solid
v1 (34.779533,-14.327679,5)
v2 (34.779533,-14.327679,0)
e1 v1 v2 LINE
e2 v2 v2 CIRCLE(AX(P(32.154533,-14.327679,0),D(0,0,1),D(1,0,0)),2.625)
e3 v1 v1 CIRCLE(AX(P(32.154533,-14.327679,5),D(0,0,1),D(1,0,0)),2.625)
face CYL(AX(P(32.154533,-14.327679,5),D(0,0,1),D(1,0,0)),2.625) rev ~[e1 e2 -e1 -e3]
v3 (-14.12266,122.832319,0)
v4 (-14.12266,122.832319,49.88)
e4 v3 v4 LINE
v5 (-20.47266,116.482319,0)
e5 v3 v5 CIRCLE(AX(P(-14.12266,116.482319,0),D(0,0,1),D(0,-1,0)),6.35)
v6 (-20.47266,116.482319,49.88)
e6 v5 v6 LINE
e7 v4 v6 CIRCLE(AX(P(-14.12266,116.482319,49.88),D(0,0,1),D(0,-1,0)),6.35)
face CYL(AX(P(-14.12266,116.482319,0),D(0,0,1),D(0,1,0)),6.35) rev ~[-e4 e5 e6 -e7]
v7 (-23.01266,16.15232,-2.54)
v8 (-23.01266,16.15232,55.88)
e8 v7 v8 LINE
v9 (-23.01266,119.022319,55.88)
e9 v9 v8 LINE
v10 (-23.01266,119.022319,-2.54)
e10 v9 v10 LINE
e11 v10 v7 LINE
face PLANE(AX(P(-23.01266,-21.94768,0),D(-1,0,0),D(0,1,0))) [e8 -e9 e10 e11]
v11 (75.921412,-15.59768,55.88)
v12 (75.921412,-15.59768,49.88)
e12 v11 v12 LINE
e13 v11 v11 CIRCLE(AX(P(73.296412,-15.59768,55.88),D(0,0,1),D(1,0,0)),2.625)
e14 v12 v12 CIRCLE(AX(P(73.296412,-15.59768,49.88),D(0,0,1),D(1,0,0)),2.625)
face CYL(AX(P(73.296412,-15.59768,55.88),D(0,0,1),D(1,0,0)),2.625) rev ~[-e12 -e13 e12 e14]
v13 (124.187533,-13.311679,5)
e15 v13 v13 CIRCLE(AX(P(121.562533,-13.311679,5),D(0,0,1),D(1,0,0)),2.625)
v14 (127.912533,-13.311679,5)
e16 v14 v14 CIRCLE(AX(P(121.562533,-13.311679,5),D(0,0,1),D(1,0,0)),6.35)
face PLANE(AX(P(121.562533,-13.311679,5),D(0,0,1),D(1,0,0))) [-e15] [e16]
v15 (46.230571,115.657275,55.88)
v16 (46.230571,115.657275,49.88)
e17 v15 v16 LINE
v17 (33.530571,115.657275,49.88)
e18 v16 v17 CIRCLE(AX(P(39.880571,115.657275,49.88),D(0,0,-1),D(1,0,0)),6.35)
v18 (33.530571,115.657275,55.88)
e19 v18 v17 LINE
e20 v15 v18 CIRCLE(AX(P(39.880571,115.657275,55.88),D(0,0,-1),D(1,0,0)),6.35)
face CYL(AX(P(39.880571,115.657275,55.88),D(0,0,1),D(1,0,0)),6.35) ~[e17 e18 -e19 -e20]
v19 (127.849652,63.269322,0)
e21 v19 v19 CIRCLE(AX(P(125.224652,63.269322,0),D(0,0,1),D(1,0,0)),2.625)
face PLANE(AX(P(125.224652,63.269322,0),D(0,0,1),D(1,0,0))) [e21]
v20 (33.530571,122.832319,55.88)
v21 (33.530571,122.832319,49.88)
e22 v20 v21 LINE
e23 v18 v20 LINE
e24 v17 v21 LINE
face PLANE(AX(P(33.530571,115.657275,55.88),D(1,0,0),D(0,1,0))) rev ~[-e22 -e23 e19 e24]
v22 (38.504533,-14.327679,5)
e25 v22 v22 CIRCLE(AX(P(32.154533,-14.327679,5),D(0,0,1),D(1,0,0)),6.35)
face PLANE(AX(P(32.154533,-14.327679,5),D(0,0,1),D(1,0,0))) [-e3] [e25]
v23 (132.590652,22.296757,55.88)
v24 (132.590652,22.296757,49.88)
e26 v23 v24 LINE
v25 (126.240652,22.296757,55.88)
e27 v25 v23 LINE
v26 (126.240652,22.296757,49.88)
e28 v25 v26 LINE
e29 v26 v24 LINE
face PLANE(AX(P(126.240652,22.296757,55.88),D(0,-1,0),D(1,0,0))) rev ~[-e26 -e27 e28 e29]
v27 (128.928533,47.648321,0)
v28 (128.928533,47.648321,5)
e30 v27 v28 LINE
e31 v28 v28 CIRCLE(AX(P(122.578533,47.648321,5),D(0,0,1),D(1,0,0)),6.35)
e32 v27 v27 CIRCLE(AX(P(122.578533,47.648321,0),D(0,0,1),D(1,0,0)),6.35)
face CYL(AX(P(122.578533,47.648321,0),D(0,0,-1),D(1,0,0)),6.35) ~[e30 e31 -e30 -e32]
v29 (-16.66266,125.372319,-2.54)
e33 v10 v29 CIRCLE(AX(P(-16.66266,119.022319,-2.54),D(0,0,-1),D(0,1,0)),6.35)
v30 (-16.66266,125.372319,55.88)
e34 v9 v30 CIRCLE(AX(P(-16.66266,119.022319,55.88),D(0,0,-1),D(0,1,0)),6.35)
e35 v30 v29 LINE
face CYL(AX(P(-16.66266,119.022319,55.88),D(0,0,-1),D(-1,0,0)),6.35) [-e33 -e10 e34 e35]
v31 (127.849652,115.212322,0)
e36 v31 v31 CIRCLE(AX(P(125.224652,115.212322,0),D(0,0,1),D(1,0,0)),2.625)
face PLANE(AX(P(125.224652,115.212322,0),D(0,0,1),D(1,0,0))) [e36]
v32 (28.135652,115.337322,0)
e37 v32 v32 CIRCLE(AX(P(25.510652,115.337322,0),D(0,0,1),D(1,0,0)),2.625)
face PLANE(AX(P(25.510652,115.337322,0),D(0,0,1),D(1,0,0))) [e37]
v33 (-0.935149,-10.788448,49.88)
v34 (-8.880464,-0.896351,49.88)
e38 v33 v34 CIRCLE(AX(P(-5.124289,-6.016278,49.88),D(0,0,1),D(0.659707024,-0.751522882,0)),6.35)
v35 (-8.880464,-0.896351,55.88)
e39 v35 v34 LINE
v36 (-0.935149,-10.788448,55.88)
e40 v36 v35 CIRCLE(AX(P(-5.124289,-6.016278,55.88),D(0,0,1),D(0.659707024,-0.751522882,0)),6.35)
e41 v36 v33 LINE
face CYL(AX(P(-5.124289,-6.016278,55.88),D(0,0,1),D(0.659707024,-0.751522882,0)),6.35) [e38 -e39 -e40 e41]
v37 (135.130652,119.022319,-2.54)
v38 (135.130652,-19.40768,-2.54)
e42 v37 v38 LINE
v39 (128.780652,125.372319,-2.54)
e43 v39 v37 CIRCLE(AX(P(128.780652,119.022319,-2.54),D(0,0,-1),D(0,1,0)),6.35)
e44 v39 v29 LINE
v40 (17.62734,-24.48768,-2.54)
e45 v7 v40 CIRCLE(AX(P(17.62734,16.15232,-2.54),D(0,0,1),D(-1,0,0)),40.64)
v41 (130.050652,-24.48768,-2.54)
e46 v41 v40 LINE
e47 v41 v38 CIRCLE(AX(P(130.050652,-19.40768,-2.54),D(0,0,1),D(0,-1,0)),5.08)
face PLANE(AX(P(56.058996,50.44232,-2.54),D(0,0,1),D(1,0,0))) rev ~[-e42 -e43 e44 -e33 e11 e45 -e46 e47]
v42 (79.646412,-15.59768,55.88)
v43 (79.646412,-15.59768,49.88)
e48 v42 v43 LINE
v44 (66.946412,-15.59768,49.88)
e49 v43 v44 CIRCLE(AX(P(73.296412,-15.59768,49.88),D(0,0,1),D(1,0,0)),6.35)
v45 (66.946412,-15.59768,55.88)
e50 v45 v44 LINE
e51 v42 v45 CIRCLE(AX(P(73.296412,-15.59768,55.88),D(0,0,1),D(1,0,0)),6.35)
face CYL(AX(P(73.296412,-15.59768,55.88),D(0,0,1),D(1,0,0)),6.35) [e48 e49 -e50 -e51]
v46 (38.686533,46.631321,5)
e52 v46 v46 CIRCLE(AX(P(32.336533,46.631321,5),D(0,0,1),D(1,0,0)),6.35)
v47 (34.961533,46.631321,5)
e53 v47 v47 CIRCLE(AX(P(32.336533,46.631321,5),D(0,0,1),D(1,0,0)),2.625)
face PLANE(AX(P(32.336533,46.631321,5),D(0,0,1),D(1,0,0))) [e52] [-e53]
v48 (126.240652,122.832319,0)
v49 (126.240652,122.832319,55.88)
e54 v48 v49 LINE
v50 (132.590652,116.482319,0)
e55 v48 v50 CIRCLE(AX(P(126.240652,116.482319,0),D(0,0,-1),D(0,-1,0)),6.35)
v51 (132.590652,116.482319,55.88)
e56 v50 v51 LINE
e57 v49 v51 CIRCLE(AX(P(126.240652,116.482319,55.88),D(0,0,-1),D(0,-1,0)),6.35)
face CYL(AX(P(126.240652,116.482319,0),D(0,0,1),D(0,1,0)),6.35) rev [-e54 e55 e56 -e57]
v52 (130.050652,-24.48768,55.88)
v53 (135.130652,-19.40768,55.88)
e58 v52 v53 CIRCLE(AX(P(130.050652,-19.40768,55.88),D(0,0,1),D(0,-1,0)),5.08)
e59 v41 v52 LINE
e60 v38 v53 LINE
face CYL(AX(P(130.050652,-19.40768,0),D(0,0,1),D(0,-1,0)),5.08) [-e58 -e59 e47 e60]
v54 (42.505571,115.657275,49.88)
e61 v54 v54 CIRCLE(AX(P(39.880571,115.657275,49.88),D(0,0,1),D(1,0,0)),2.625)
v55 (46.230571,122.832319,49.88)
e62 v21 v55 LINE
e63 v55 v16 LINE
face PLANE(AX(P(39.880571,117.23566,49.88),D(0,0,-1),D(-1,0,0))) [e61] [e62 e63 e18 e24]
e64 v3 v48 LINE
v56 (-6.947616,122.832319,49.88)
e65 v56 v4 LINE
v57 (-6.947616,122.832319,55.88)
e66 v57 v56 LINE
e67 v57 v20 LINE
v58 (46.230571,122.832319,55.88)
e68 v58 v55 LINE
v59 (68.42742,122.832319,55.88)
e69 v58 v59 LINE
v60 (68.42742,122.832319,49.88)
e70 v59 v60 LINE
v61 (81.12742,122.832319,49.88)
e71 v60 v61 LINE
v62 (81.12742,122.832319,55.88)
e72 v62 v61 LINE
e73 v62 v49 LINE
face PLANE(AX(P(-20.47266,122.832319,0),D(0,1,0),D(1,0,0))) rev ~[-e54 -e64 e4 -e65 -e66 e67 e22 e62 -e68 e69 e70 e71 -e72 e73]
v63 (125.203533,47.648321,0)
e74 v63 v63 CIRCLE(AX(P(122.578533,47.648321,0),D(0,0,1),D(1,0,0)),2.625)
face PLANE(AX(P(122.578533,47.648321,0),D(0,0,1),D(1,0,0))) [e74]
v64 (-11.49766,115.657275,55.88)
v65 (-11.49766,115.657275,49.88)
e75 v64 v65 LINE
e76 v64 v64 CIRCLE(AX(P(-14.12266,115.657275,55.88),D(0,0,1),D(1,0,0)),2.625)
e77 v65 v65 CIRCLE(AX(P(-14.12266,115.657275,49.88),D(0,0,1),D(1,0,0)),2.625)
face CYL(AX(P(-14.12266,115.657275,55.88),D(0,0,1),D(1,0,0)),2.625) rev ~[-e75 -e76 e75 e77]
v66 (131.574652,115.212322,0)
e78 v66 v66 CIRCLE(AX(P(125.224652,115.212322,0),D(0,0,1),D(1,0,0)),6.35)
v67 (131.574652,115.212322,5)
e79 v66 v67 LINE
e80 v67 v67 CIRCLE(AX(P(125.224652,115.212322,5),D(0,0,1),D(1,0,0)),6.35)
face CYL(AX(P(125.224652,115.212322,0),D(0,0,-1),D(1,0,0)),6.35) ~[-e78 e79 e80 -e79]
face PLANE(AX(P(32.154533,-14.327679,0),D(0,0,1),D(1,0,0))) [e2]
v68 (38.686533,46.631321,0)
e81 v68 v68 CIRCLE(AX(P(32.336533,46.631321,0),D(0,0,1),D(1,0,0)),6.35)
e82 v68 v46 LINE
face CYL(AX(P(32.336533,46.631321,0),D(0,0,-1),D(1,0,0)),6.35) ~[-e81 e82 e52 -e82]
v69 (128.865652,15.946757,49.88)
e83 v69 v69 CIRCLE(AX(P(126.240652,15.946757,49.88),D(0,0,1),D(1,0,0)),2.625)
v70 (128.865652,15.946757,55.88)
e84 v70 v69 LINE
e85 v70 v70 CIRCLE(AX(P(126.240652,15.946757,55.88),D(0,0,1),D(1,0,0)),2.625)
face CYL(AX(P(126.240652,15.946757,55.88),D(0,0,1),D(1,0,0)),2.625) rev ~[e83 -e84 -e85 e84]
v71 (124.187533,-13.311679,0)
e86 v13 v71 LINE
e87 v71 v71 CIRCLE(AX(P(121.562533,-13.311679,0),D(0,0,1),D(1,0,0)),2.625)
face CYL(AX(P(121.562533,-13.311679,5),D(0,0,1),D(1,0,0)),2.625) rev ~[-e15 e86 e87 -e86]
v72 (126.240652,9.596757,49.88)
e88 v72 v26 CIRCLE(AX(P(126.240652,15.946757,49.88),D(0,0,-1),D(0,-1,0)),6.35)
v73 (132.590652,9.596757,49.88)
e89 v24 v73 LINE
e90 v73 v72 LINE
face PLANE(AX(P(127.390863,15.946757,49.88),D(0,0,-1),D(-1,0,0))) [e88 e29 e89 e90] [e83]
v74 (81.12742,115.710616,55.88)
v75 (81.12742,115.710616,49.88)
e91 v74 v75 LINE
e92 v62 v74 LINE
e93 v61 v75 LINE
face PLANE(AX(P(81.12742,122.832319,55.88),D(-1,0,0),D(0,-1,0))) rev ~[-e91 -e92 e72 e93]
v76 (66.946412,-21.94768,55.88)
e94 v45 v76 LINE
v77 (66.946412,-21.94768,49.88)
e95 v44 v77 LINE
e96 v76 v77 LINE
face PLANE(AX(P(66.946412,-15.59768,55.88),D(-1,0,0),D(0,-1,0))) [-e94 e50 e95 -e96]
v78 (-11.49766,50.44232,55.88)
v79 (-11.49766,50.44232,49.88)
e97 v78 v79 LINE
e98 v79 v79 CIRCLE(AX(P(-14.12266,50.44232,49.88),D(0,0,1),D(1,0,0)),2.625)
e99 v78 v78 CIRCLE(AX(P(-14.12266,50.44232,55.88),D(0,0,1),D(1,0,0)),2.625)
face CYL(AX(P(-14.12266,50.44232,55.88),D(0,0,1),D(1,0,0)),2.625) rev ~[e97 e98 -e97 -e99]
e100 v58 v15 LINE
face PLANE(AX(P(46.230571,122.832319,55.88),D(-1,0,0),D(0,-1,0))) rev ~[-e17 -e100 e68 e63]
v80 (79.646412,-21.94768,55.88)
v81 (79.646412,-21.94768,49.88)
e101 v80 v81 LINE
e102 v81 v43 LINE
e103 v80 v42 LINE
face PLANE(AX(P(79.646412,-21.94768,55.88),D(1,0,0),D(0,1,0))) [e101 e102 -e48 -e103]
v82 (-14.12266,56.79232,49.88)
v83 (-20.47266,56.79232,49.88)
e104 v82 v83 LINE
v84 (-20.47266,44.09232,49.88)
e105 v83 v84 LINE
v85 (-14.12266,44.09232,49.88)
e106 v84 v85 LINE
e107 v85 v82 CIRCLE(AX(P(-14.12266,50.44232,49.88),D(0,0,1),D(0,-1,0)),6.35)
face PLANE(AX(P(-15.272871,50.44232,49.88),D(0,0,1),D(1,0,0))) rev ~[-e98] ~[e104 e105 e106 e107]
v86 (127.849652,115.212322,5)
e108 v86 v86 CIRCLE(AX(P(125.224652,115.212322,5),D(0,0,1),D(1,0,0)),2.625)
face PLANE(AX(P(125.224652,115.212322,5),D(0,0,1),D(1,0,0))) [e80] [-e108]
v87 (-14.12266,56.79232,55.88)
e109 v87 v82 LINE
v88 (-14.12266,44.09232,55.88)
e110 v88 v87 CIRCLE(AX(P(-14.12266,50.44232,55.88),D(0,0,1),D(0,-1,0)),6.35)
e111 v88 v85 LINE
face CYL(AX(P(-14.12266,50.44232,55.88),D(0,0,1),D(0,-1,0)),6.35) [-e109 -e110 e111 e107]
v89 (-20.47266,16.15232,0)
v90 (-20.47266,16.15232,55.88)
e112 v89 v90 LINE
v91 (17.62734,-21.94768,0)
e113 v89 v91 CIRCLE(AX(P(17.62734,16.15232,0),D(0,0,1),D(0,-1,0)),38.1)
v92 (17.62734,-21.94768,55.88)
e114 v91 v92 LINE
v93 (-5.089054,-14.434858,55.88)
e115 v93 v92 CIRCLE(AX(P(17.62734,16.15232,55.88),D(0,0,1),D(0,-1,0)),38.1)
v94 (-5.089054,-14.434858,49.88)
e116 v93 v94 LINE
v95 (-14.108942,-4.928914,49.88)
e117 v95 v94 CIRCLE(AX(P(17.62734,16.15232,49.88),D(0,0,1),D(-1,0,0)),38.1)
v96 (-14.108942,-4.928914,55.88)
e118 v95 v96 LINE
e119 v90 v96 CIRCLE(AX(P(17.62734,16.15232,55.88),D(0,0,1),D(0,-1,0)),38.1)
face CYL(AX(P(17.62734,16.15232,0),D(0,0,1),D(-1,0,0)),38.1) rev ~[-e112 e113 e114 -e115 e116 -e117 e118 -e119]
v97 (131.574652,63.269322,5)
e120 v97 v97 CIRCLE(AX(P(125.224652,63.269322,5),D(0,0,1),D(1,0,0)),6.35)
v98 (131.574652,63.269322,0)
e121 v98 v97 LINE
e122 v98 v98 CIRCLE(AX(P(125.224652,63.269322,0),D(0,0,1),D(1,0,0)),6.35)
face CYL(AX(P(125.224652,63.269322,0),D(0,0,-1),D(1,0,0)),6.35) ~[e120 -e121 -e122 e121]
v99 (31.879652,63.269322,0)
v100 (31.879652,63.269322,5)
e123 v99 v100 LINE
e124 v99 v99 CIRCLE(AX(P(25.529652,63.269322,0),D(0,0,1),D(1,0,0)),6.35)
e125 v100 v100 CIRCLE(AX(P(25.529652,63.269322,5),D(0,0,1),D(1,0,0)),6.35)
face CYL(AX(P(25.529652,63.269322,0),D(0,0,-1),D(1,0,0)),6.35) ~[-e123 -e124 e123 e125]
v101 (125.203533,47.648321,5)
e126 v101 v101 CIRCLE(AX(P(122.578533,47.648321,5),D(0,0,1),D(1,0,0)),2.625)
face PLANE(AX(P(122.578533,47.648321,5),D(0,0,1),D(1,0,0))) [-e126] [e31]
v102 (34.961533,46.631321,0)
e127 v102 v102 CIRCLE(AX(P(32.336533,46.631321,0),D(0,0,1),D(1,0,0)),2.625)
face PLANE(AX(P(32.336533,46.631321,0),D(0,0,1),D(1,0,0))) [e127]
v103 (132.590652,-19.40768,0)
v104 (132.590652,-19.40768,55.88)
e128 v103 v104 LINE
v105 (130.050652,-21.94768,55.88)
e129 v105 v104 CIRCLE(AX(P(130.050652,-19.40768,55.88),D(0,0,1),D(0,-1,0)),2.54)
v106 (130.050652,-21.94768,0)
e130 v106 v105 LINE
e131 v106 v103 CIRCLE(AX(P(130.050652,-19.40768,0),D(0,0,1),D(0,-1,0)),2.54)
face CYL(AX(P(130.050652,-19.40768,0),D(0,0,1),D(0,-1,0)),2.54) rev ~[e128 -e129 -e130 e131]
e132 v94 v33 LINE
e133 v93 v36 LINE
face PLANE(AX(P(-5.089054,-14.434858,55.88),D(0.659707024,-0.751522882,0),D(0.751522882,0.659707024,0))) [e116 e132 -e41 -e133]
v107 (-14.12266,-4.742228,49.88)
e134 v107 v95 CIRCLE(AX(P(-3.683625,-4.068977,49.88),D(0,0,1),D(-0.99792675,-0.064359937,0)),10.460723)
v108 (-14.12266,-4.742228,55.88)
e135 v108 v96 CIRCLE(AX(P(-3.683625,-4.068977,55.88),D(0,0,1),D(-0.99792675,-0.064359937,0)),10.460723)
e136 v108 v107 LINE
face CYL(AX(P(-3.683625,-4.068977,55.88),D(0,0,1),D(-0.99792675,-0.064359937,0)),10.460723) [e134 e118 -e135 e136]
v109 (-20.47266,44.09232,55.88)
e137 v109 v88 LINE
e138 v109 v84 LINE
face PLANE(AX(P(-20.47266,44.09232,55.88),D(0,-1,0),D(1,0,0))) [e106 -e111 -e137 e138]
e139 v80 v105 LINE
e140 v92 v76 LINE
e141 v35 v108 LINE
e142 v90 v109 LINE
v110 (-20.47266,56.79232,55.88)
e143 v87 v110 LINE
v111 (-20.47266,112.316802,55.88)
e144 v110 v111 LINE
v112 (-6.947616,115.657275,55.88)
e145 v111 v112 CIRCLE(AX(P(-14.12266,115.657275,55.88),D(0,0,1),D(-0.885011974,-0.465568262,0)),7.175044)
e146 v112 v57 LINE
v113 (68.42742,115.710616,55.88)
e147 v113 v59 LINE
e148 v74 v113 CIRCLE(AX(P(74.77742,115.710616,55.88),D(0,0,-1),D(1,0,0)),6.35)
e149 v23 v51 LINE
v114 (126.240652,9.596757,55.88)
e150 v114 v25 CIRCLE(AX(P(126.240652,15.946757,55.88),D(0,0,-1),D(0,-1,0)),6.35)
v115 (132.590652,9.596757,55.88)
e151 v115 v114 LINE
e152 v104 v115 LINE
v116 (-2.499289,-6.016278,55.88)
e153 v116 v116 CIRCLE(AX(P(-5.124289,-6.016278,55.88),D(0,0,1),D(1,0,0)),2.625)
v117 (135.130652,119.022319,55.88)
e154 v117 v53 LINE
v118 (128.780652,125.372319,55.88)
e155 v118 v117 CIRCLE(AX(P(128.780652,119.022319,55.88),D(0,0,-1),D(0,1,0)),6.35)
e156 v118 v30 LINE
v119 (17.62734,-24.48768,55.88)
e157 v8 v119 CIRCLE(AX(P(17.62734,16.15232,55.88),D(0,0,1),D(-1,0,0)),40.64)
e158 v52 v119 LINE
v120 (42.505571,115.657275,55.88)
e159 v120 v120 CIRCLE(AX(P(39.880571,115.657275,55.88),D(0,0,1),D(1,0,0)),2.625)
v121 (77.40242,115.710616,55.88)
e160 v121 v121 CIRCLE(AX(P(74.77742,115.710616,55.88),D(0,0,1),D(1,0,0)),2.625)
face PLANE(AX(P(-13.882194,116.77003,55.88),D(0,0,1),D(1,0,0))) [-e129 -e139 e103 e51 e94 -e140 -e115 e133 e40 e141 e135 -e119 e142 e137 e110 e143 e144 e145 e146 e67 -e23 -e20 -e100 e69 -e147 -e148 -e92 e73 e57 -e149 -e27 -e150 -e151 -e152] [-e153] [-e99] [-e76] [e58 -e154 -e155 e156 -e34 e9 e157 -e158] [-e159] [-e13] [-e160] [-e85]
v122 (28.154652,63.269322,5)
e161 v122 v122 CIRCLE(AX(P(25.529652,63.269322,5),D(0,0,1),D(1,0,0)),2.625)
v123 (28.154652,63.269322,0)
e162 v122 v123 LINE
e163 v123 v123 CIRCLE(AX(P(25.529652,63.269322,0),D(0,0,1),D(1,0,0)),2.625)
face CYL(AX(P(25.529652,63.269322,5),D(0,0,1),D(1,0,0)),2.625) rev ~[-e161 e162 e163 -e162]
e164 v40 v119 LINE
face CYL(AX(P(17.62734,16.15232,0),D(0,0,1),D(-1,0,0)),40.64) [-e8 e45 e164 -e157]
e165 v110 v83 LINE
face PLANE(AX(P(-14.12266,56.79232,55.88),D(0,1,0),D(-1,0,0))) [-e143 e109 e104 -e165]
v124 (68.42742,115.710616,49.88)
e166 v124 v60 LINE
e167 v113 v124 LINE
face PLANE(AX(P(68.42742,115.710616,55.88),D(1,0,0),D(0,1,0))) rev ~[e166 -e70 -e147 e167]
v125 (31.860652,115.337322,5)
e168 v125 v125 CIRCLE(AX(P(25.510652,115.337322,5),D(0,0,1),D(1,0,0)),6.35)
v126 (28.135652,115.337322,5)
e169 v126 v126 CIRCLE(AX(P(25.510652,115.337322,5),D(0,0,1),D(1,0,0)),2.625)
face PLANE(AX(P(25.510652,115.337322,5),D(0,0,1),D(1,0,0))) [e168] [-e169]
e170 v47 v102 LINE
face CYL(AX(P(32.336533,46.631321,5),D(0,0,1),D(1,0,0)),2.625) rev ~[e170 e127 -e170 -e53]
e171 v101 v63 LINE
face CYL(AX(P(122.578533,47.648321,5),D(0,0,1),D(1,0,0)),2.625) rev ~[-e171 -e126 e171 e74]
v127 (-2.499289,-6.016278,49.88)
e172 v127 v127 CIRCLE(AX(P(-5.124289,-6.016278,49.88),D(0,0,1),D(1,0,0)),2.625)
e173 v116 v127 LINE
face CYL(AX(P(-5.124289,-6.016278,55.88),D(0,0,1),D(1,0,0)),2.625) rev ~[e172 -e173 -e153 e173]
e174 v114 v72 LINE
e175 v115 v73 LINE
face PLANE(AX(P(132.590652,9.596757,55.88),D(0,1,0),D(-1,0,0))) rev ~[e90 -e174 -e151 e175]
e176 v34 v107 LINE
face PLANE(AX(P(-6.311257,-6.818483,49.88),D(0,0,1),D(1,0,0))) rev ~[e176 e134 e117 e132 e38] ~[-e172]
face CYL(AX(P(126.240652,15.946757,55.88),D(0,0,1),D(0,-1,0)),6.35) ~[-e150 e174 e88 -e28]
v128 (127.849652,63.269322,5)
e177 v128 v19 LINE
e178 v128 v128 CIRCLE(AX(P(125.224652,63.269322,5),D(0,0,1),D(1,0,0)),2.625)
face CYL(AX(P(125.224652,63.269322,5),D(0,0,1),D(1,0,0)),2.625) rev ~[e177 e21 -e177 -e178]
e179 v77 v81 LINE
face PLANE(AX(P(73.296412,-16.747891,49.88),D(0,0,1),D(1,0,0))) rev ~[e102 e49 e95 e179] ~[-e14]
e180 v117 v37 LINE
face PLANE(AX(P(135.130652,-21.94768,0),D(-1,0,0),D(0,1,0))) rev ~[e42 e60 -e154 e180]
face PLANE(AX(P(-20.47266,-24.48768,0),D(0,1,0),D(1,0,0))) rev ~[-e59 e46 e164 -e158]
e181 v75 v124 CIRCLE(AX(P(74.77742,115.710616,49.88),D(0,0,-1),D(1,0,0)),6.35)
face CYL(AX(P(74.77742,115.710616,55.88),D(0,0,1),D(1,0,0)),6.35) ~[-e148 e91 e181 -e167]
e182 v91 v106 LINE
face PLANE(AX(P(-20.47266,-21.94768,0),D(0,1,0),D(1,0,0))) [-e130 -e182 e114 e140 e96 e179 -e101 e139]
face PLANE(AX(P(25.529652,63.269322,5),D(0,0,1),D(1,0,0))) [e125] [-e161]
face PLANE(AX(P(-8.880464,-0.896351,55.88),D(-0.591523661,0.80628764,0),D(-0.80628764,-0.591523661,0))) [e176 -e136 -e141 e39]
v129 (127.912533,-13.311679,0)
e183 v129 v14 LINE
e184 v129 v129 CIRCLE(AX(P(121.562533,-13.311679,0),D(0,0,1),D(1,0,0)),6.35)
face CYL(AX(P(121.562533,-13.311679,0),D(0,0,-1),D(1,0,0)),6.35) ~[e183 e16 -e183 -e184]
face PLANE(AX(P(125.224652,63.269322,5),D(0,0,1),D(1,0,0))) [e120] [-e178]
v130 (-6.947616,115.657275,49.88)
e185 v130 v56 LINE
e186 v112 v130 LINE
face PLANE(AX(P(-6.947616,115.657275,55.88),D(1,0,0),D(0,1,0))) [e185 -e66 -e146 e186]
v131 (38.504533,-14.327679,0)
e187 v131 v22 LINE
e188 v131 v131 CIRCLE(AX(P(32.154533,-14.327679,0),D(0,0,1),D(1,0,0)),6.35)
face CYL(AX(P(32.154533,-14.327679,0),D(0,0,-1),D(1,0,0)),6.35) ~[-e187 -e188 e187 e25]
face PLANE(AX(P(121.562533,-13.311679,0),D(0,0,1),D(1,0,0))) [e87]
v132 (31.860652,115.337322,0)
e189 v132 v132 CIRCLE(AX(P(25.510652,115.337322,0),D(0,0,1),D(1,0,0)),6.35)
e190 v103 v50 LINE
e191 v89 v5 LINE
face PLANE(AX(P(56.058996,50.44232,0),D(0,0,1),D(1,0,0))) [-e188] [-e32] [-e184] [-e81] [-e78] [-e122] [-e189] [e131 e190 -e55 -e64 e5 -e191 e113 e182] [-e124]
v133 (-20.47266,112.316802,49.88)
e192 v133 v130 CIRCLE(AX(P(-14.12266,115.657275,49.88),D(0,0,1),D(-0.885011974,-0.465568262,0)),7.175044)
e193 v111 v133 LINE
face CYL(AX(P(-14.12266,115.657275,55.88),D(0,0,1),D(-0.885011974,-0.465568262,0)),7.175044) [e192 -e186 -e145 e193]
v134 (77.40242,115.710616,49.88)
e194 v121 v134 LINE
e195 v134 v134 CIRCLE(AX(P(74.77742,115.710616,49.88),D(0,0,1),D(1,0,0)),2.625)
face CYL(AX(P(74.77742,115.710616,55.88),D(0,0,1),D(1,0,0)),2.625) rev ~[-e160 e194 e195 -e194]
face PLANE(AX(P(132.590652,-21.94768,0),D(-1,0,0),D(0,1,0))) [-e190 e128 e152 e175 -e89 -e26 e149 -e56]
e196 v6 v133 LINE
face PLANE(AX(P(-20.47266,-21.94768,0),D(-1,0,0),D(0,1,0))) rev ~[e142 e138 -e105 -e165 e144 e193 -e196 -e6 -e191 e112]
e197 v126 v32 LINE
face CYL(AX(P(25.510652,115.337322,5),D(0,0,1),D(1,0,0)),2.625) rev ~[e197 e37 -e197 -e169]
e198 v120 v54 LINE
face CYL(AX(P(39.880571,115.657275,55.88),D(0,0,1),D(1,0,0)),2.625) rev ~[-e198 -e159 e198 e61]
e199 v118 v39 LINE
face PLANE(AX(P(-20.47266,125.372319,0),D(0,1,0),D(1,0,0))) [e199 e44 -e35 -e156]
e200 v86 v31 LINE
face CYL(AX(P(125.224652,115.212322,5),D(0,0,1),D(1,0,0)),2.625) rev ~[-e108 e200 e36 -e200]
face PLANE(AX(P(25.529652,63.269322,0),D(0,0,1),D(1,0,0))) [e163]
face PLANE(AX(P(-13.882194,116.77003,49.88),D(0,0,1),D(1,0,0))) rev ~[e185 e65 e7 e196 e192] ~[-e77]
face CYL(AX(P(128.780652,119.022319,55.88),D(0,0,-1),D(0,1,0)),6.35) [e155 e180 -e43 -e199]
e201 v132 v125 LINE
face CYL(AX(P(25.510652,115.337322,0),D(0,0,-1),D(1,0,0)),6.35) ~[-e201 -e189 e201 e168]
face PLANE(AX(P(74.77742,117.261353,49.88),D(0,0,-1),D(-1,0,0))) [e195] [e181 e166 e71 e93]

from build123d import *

# Parameters (mm, degrees)
SKETCH5_W           = 153.063311942
SKETCH5_H           = 144.779998932
BOSS_EXTRUDE4_DEPTH = 55.88
FILLET1_R           = 38.1
FILLET2_R           = 2.54
SHELL3_T            = 2.54
SKETCH7_R           = 6.35
BOSS_EXTRUDE5_DEPTH = 5
SKETCH8_R           = 2.625
CUT_EXTRUDE1_DEPTH  = 5
BOSS_EXTRUDE6_DEPTH = 6
FILLET3_R           = 6.35
SKETCH10_R          = 2.625
CUT_EXTRUDE2_DEPTH  = 55.88


with BuildPart() as part:
    # Sketch5 → Boss-Extrude4 (new body)
    with BuildSketch(Plane.XY):
        with Locations((56.058995854, 50.442319529)):
            Rectangle(SKETCH5_W, SKETCH5_H)
    extrude(amount=BOSS_EXTRUDE4_DEPTH)

    # Fillet1
    fillet1_edges = [part.edges().sort_by_distance(p)[0] for p in [
        (-20.472660117, -21.947679937, 27.94),
    ]]
    fillet(fillet1_edges, radius=FILLET1_R)

    # Fillet2
    fillet2_edges = [part.edges().sort_by_distance(p)[0] for p in [
        (132.590651825, -21.947679937, 27.94),
    ]]
    fillet(fillet2_edges, radius=FILLET2_R)

    # Shell3
    shell3_openings = [part.faces().sort_by_distance(p)[0] for p in [
        (57.024076911, 51.357711543, 55.88),
    ]]
    offset(amount=SHELL3_T, openings=shell3_openings, kind=Kind.INTERSECTION)

    # Sketch7 → Boss-Extrude5 (add)
    with BuildSketch(Plane.XY):
        with Locations((122.578533424, 47.648321467)):
            Circle(SKETCH7_R)
        with Locations((121.562533424, -13.311678533)):
            Circle(SKETCH7_R)
        with Locations((32.336533424, 46.631321467)):
            Circle(SKETCH7_R)
        with Locations((32.154533424, -14.327678533)):
            Circle(SKETCH7_R)
        with Locations((125.224651703, 115.212321803)):
            Circle(SKETCH7_R)
        with Locations((125.224651703, 63.269321803)):
            Circle(SKETCH7_R)
        with Locations((25.510651703, 115.337321803)):
            Circle(SKETCH7_R)
        with Locations((25.529651703, 63.269321803)):
            Circle(SKETCH7_R)
    extrude(amount=BOSS_EXTRUDE5_DEPTH)

    # Sketch8 → Cut-Extrude1 (cut)
    with BuildSketch(Plane.XY.offset(5)):
        with Locations((25.510651703, 115.337321803)):
            Circle(SKETCH8_R)
        with Locations((25.529651703, 63.269321803)):
            Circle(SKETCH8_R)
        with Locations((32.336533424, 46.631321467)):
            Circle(SKETCH8_R)
        with Locations((32.154533424, -14.327678533)):
            Circle(SKETCH8_R)
        with Locations((125.224651703, 63.269321803)):
            Circle(SKETCH8_R)
        with Locations((125.224651703, 115.212321803)):
            Circle(SKETCH8_R)
        with Locations((122.578533424, 47.648321467)):
            Circle(SKETCH8_R)
        with Locations((121.562533424, -13.311678533)):
            Circle(SKETCH8_R)
    extrude(amount=-CUT_EXTRUDE1_DEPTH, mode=Mode.SUBTRACT)

    # Sketch9 → Boss-Extrude6 (add)
    with BuildSketch(Plane.XY.offset(55.88)):
        with BuildLine():
            Line((-6.94761595, 115.657274828), (-6.94761595, 122.832318995))
            Line((-6.94761595, 122.832318995), (-20.472660117, 122.832318995))
            Line((-20.472660117, 122.832318995), (-20.472660117, 115.657274828))
            Line((-20.472660117, 115.657274828), (-20.472660117, 112.316801987))
            ThreePointArc((-20.472660117, 112.316801987), (-12.402234539, 108.691544814), (-6.94761595, 115.657274828))
        make_face()
        with BuildLine():
            Line((33.530571418, 115.657274828), (33.530571418, 122.832318995))
            Line((33.530571418, 122.832318995), (46.230571418, 122.832318995))
            Line((46.230571418, 122.832318995), (46.230571418, 115.657274828))
            ThreePointArc((46.230571418, 115.657274828), (39.880571418, 109.307274828), (33.530571418, 115.657274828))
        make_face()
        with BuildLine():
            Line((68.427420291, 115.710615977), (68.427420291, 122.832318995))
            Line((68.427420291, 122.832318995), (81.127420291, 122.832318995))
            Line((81.127420291, 122.832318995), (81.127420291, 115.710615977))
            ThreePointArc((81.127420291, 115.710615977), (74.777420291, 109.360615977), (68.427420291, 115.710615977))
        make_face()
        with BuildLine():
            Line((126.240651825, 22.296756738), (132.590651825, 22.296756738))
            Line((132.590651825, 22.296756738), (132.590651825, 9.596756738))
            Line((132.590651825, 9.596756738), (126.240651825, 9.596756738))
            ThreePointArc((126.240651825, 9.596756738), (119.890651825, 15.946756738), (126.240651825, 22.296756738))
        make_face()
        with BuildLine():
            Line((-8.880464125, -0.896351485), (-14.122660117, -4.742228331))
            ThreePointArc((-14.122660117, -4.742228331), (-11.33604945, -11.201095808), (-5.089054035, -14.434857763))
            Line((-5.089054035, -14.434857763), (-0.935149274, -10.7884483))
            ThreePointArc((-0.935149274, -10.7884483), (-0.173505163, -2.039817183), (-8.880464125, -0.896351485))
        make_face()
        with BuildLine():
            Line((-14.122660117, 56.792319529), (-20.472660117, 56.792319529))
            Line((-20.472660117, 56.792319529), (-20.472660117, 44.092319529))
            Line((-20.472660117, 44.092319529), (-14.122660117, 44.092319529))
            ThreePointArc((-14.122660117, 44.092319529), (-7.772660117, 50.442319529), (-14.122660117, 56.792319529))
        make_face()
        with BuildLine():
            Line((66.946411889, -15.597679937), (66.946411889, -21.947679937))
            Line((66.946411889, -21.947679937), (79.646411889, -21.947679937))
            Line((79.646411889, -21.947679937), (79.646411889, -15.597679937))
            ThreePointArc((79.646411889, -15.597679937), (73.296411889, -9.247679937), (66.946411889, -15.597679937))
        make_face()
    extrude(amount=-BOSS_EXTRUDE6_DEPTH)

    # Fillet3
    fillet3_edges = [part.edges().sort_by_distance(p)[0] for p in [
        (-20.472660117, 122.832318995, 24.94),
        (132.590651825, 122.832318995, 27.94),
        (-23.012660117, 125.372318995, 26.67),
        (135.130651825, 125.372318995, 26.67),
    ]]
    fillet(fillet3_edges, radius=FILLET3_R)

    # Sketch10 → Cut-Extrude2 (cut)
    with BuildSketch(Plane.XY.offset(55.88)):
        with Locations((-14.122660117, 115.657274828)):
            Circle(SKETCH10_R)
        with Locations((39.880571418, 115.657274828)):
            Circle(SKETCH10_R)
        with Locations((74.777420291, 115.710615977)):
            Circle(SKETCH10_R)
        with Locations((-14.122660117, 50.442319529)):
            Circle(SKETCH10_R)
        with Locations((-5.124288877, -6.016277999)):
            Circle(SKETCH10_R)
        with Locations((73.296411889, -15.597679937)):
            Circle(SKETCH10_R)
        with Locations((126.240651825, 15.946756738)):
            Circle(SKETCH10_R)
    extrude(amount=-CUT_EXTRUDE2_DEPTH, mode=Mode.SUBTRACT)


solid = part.part
